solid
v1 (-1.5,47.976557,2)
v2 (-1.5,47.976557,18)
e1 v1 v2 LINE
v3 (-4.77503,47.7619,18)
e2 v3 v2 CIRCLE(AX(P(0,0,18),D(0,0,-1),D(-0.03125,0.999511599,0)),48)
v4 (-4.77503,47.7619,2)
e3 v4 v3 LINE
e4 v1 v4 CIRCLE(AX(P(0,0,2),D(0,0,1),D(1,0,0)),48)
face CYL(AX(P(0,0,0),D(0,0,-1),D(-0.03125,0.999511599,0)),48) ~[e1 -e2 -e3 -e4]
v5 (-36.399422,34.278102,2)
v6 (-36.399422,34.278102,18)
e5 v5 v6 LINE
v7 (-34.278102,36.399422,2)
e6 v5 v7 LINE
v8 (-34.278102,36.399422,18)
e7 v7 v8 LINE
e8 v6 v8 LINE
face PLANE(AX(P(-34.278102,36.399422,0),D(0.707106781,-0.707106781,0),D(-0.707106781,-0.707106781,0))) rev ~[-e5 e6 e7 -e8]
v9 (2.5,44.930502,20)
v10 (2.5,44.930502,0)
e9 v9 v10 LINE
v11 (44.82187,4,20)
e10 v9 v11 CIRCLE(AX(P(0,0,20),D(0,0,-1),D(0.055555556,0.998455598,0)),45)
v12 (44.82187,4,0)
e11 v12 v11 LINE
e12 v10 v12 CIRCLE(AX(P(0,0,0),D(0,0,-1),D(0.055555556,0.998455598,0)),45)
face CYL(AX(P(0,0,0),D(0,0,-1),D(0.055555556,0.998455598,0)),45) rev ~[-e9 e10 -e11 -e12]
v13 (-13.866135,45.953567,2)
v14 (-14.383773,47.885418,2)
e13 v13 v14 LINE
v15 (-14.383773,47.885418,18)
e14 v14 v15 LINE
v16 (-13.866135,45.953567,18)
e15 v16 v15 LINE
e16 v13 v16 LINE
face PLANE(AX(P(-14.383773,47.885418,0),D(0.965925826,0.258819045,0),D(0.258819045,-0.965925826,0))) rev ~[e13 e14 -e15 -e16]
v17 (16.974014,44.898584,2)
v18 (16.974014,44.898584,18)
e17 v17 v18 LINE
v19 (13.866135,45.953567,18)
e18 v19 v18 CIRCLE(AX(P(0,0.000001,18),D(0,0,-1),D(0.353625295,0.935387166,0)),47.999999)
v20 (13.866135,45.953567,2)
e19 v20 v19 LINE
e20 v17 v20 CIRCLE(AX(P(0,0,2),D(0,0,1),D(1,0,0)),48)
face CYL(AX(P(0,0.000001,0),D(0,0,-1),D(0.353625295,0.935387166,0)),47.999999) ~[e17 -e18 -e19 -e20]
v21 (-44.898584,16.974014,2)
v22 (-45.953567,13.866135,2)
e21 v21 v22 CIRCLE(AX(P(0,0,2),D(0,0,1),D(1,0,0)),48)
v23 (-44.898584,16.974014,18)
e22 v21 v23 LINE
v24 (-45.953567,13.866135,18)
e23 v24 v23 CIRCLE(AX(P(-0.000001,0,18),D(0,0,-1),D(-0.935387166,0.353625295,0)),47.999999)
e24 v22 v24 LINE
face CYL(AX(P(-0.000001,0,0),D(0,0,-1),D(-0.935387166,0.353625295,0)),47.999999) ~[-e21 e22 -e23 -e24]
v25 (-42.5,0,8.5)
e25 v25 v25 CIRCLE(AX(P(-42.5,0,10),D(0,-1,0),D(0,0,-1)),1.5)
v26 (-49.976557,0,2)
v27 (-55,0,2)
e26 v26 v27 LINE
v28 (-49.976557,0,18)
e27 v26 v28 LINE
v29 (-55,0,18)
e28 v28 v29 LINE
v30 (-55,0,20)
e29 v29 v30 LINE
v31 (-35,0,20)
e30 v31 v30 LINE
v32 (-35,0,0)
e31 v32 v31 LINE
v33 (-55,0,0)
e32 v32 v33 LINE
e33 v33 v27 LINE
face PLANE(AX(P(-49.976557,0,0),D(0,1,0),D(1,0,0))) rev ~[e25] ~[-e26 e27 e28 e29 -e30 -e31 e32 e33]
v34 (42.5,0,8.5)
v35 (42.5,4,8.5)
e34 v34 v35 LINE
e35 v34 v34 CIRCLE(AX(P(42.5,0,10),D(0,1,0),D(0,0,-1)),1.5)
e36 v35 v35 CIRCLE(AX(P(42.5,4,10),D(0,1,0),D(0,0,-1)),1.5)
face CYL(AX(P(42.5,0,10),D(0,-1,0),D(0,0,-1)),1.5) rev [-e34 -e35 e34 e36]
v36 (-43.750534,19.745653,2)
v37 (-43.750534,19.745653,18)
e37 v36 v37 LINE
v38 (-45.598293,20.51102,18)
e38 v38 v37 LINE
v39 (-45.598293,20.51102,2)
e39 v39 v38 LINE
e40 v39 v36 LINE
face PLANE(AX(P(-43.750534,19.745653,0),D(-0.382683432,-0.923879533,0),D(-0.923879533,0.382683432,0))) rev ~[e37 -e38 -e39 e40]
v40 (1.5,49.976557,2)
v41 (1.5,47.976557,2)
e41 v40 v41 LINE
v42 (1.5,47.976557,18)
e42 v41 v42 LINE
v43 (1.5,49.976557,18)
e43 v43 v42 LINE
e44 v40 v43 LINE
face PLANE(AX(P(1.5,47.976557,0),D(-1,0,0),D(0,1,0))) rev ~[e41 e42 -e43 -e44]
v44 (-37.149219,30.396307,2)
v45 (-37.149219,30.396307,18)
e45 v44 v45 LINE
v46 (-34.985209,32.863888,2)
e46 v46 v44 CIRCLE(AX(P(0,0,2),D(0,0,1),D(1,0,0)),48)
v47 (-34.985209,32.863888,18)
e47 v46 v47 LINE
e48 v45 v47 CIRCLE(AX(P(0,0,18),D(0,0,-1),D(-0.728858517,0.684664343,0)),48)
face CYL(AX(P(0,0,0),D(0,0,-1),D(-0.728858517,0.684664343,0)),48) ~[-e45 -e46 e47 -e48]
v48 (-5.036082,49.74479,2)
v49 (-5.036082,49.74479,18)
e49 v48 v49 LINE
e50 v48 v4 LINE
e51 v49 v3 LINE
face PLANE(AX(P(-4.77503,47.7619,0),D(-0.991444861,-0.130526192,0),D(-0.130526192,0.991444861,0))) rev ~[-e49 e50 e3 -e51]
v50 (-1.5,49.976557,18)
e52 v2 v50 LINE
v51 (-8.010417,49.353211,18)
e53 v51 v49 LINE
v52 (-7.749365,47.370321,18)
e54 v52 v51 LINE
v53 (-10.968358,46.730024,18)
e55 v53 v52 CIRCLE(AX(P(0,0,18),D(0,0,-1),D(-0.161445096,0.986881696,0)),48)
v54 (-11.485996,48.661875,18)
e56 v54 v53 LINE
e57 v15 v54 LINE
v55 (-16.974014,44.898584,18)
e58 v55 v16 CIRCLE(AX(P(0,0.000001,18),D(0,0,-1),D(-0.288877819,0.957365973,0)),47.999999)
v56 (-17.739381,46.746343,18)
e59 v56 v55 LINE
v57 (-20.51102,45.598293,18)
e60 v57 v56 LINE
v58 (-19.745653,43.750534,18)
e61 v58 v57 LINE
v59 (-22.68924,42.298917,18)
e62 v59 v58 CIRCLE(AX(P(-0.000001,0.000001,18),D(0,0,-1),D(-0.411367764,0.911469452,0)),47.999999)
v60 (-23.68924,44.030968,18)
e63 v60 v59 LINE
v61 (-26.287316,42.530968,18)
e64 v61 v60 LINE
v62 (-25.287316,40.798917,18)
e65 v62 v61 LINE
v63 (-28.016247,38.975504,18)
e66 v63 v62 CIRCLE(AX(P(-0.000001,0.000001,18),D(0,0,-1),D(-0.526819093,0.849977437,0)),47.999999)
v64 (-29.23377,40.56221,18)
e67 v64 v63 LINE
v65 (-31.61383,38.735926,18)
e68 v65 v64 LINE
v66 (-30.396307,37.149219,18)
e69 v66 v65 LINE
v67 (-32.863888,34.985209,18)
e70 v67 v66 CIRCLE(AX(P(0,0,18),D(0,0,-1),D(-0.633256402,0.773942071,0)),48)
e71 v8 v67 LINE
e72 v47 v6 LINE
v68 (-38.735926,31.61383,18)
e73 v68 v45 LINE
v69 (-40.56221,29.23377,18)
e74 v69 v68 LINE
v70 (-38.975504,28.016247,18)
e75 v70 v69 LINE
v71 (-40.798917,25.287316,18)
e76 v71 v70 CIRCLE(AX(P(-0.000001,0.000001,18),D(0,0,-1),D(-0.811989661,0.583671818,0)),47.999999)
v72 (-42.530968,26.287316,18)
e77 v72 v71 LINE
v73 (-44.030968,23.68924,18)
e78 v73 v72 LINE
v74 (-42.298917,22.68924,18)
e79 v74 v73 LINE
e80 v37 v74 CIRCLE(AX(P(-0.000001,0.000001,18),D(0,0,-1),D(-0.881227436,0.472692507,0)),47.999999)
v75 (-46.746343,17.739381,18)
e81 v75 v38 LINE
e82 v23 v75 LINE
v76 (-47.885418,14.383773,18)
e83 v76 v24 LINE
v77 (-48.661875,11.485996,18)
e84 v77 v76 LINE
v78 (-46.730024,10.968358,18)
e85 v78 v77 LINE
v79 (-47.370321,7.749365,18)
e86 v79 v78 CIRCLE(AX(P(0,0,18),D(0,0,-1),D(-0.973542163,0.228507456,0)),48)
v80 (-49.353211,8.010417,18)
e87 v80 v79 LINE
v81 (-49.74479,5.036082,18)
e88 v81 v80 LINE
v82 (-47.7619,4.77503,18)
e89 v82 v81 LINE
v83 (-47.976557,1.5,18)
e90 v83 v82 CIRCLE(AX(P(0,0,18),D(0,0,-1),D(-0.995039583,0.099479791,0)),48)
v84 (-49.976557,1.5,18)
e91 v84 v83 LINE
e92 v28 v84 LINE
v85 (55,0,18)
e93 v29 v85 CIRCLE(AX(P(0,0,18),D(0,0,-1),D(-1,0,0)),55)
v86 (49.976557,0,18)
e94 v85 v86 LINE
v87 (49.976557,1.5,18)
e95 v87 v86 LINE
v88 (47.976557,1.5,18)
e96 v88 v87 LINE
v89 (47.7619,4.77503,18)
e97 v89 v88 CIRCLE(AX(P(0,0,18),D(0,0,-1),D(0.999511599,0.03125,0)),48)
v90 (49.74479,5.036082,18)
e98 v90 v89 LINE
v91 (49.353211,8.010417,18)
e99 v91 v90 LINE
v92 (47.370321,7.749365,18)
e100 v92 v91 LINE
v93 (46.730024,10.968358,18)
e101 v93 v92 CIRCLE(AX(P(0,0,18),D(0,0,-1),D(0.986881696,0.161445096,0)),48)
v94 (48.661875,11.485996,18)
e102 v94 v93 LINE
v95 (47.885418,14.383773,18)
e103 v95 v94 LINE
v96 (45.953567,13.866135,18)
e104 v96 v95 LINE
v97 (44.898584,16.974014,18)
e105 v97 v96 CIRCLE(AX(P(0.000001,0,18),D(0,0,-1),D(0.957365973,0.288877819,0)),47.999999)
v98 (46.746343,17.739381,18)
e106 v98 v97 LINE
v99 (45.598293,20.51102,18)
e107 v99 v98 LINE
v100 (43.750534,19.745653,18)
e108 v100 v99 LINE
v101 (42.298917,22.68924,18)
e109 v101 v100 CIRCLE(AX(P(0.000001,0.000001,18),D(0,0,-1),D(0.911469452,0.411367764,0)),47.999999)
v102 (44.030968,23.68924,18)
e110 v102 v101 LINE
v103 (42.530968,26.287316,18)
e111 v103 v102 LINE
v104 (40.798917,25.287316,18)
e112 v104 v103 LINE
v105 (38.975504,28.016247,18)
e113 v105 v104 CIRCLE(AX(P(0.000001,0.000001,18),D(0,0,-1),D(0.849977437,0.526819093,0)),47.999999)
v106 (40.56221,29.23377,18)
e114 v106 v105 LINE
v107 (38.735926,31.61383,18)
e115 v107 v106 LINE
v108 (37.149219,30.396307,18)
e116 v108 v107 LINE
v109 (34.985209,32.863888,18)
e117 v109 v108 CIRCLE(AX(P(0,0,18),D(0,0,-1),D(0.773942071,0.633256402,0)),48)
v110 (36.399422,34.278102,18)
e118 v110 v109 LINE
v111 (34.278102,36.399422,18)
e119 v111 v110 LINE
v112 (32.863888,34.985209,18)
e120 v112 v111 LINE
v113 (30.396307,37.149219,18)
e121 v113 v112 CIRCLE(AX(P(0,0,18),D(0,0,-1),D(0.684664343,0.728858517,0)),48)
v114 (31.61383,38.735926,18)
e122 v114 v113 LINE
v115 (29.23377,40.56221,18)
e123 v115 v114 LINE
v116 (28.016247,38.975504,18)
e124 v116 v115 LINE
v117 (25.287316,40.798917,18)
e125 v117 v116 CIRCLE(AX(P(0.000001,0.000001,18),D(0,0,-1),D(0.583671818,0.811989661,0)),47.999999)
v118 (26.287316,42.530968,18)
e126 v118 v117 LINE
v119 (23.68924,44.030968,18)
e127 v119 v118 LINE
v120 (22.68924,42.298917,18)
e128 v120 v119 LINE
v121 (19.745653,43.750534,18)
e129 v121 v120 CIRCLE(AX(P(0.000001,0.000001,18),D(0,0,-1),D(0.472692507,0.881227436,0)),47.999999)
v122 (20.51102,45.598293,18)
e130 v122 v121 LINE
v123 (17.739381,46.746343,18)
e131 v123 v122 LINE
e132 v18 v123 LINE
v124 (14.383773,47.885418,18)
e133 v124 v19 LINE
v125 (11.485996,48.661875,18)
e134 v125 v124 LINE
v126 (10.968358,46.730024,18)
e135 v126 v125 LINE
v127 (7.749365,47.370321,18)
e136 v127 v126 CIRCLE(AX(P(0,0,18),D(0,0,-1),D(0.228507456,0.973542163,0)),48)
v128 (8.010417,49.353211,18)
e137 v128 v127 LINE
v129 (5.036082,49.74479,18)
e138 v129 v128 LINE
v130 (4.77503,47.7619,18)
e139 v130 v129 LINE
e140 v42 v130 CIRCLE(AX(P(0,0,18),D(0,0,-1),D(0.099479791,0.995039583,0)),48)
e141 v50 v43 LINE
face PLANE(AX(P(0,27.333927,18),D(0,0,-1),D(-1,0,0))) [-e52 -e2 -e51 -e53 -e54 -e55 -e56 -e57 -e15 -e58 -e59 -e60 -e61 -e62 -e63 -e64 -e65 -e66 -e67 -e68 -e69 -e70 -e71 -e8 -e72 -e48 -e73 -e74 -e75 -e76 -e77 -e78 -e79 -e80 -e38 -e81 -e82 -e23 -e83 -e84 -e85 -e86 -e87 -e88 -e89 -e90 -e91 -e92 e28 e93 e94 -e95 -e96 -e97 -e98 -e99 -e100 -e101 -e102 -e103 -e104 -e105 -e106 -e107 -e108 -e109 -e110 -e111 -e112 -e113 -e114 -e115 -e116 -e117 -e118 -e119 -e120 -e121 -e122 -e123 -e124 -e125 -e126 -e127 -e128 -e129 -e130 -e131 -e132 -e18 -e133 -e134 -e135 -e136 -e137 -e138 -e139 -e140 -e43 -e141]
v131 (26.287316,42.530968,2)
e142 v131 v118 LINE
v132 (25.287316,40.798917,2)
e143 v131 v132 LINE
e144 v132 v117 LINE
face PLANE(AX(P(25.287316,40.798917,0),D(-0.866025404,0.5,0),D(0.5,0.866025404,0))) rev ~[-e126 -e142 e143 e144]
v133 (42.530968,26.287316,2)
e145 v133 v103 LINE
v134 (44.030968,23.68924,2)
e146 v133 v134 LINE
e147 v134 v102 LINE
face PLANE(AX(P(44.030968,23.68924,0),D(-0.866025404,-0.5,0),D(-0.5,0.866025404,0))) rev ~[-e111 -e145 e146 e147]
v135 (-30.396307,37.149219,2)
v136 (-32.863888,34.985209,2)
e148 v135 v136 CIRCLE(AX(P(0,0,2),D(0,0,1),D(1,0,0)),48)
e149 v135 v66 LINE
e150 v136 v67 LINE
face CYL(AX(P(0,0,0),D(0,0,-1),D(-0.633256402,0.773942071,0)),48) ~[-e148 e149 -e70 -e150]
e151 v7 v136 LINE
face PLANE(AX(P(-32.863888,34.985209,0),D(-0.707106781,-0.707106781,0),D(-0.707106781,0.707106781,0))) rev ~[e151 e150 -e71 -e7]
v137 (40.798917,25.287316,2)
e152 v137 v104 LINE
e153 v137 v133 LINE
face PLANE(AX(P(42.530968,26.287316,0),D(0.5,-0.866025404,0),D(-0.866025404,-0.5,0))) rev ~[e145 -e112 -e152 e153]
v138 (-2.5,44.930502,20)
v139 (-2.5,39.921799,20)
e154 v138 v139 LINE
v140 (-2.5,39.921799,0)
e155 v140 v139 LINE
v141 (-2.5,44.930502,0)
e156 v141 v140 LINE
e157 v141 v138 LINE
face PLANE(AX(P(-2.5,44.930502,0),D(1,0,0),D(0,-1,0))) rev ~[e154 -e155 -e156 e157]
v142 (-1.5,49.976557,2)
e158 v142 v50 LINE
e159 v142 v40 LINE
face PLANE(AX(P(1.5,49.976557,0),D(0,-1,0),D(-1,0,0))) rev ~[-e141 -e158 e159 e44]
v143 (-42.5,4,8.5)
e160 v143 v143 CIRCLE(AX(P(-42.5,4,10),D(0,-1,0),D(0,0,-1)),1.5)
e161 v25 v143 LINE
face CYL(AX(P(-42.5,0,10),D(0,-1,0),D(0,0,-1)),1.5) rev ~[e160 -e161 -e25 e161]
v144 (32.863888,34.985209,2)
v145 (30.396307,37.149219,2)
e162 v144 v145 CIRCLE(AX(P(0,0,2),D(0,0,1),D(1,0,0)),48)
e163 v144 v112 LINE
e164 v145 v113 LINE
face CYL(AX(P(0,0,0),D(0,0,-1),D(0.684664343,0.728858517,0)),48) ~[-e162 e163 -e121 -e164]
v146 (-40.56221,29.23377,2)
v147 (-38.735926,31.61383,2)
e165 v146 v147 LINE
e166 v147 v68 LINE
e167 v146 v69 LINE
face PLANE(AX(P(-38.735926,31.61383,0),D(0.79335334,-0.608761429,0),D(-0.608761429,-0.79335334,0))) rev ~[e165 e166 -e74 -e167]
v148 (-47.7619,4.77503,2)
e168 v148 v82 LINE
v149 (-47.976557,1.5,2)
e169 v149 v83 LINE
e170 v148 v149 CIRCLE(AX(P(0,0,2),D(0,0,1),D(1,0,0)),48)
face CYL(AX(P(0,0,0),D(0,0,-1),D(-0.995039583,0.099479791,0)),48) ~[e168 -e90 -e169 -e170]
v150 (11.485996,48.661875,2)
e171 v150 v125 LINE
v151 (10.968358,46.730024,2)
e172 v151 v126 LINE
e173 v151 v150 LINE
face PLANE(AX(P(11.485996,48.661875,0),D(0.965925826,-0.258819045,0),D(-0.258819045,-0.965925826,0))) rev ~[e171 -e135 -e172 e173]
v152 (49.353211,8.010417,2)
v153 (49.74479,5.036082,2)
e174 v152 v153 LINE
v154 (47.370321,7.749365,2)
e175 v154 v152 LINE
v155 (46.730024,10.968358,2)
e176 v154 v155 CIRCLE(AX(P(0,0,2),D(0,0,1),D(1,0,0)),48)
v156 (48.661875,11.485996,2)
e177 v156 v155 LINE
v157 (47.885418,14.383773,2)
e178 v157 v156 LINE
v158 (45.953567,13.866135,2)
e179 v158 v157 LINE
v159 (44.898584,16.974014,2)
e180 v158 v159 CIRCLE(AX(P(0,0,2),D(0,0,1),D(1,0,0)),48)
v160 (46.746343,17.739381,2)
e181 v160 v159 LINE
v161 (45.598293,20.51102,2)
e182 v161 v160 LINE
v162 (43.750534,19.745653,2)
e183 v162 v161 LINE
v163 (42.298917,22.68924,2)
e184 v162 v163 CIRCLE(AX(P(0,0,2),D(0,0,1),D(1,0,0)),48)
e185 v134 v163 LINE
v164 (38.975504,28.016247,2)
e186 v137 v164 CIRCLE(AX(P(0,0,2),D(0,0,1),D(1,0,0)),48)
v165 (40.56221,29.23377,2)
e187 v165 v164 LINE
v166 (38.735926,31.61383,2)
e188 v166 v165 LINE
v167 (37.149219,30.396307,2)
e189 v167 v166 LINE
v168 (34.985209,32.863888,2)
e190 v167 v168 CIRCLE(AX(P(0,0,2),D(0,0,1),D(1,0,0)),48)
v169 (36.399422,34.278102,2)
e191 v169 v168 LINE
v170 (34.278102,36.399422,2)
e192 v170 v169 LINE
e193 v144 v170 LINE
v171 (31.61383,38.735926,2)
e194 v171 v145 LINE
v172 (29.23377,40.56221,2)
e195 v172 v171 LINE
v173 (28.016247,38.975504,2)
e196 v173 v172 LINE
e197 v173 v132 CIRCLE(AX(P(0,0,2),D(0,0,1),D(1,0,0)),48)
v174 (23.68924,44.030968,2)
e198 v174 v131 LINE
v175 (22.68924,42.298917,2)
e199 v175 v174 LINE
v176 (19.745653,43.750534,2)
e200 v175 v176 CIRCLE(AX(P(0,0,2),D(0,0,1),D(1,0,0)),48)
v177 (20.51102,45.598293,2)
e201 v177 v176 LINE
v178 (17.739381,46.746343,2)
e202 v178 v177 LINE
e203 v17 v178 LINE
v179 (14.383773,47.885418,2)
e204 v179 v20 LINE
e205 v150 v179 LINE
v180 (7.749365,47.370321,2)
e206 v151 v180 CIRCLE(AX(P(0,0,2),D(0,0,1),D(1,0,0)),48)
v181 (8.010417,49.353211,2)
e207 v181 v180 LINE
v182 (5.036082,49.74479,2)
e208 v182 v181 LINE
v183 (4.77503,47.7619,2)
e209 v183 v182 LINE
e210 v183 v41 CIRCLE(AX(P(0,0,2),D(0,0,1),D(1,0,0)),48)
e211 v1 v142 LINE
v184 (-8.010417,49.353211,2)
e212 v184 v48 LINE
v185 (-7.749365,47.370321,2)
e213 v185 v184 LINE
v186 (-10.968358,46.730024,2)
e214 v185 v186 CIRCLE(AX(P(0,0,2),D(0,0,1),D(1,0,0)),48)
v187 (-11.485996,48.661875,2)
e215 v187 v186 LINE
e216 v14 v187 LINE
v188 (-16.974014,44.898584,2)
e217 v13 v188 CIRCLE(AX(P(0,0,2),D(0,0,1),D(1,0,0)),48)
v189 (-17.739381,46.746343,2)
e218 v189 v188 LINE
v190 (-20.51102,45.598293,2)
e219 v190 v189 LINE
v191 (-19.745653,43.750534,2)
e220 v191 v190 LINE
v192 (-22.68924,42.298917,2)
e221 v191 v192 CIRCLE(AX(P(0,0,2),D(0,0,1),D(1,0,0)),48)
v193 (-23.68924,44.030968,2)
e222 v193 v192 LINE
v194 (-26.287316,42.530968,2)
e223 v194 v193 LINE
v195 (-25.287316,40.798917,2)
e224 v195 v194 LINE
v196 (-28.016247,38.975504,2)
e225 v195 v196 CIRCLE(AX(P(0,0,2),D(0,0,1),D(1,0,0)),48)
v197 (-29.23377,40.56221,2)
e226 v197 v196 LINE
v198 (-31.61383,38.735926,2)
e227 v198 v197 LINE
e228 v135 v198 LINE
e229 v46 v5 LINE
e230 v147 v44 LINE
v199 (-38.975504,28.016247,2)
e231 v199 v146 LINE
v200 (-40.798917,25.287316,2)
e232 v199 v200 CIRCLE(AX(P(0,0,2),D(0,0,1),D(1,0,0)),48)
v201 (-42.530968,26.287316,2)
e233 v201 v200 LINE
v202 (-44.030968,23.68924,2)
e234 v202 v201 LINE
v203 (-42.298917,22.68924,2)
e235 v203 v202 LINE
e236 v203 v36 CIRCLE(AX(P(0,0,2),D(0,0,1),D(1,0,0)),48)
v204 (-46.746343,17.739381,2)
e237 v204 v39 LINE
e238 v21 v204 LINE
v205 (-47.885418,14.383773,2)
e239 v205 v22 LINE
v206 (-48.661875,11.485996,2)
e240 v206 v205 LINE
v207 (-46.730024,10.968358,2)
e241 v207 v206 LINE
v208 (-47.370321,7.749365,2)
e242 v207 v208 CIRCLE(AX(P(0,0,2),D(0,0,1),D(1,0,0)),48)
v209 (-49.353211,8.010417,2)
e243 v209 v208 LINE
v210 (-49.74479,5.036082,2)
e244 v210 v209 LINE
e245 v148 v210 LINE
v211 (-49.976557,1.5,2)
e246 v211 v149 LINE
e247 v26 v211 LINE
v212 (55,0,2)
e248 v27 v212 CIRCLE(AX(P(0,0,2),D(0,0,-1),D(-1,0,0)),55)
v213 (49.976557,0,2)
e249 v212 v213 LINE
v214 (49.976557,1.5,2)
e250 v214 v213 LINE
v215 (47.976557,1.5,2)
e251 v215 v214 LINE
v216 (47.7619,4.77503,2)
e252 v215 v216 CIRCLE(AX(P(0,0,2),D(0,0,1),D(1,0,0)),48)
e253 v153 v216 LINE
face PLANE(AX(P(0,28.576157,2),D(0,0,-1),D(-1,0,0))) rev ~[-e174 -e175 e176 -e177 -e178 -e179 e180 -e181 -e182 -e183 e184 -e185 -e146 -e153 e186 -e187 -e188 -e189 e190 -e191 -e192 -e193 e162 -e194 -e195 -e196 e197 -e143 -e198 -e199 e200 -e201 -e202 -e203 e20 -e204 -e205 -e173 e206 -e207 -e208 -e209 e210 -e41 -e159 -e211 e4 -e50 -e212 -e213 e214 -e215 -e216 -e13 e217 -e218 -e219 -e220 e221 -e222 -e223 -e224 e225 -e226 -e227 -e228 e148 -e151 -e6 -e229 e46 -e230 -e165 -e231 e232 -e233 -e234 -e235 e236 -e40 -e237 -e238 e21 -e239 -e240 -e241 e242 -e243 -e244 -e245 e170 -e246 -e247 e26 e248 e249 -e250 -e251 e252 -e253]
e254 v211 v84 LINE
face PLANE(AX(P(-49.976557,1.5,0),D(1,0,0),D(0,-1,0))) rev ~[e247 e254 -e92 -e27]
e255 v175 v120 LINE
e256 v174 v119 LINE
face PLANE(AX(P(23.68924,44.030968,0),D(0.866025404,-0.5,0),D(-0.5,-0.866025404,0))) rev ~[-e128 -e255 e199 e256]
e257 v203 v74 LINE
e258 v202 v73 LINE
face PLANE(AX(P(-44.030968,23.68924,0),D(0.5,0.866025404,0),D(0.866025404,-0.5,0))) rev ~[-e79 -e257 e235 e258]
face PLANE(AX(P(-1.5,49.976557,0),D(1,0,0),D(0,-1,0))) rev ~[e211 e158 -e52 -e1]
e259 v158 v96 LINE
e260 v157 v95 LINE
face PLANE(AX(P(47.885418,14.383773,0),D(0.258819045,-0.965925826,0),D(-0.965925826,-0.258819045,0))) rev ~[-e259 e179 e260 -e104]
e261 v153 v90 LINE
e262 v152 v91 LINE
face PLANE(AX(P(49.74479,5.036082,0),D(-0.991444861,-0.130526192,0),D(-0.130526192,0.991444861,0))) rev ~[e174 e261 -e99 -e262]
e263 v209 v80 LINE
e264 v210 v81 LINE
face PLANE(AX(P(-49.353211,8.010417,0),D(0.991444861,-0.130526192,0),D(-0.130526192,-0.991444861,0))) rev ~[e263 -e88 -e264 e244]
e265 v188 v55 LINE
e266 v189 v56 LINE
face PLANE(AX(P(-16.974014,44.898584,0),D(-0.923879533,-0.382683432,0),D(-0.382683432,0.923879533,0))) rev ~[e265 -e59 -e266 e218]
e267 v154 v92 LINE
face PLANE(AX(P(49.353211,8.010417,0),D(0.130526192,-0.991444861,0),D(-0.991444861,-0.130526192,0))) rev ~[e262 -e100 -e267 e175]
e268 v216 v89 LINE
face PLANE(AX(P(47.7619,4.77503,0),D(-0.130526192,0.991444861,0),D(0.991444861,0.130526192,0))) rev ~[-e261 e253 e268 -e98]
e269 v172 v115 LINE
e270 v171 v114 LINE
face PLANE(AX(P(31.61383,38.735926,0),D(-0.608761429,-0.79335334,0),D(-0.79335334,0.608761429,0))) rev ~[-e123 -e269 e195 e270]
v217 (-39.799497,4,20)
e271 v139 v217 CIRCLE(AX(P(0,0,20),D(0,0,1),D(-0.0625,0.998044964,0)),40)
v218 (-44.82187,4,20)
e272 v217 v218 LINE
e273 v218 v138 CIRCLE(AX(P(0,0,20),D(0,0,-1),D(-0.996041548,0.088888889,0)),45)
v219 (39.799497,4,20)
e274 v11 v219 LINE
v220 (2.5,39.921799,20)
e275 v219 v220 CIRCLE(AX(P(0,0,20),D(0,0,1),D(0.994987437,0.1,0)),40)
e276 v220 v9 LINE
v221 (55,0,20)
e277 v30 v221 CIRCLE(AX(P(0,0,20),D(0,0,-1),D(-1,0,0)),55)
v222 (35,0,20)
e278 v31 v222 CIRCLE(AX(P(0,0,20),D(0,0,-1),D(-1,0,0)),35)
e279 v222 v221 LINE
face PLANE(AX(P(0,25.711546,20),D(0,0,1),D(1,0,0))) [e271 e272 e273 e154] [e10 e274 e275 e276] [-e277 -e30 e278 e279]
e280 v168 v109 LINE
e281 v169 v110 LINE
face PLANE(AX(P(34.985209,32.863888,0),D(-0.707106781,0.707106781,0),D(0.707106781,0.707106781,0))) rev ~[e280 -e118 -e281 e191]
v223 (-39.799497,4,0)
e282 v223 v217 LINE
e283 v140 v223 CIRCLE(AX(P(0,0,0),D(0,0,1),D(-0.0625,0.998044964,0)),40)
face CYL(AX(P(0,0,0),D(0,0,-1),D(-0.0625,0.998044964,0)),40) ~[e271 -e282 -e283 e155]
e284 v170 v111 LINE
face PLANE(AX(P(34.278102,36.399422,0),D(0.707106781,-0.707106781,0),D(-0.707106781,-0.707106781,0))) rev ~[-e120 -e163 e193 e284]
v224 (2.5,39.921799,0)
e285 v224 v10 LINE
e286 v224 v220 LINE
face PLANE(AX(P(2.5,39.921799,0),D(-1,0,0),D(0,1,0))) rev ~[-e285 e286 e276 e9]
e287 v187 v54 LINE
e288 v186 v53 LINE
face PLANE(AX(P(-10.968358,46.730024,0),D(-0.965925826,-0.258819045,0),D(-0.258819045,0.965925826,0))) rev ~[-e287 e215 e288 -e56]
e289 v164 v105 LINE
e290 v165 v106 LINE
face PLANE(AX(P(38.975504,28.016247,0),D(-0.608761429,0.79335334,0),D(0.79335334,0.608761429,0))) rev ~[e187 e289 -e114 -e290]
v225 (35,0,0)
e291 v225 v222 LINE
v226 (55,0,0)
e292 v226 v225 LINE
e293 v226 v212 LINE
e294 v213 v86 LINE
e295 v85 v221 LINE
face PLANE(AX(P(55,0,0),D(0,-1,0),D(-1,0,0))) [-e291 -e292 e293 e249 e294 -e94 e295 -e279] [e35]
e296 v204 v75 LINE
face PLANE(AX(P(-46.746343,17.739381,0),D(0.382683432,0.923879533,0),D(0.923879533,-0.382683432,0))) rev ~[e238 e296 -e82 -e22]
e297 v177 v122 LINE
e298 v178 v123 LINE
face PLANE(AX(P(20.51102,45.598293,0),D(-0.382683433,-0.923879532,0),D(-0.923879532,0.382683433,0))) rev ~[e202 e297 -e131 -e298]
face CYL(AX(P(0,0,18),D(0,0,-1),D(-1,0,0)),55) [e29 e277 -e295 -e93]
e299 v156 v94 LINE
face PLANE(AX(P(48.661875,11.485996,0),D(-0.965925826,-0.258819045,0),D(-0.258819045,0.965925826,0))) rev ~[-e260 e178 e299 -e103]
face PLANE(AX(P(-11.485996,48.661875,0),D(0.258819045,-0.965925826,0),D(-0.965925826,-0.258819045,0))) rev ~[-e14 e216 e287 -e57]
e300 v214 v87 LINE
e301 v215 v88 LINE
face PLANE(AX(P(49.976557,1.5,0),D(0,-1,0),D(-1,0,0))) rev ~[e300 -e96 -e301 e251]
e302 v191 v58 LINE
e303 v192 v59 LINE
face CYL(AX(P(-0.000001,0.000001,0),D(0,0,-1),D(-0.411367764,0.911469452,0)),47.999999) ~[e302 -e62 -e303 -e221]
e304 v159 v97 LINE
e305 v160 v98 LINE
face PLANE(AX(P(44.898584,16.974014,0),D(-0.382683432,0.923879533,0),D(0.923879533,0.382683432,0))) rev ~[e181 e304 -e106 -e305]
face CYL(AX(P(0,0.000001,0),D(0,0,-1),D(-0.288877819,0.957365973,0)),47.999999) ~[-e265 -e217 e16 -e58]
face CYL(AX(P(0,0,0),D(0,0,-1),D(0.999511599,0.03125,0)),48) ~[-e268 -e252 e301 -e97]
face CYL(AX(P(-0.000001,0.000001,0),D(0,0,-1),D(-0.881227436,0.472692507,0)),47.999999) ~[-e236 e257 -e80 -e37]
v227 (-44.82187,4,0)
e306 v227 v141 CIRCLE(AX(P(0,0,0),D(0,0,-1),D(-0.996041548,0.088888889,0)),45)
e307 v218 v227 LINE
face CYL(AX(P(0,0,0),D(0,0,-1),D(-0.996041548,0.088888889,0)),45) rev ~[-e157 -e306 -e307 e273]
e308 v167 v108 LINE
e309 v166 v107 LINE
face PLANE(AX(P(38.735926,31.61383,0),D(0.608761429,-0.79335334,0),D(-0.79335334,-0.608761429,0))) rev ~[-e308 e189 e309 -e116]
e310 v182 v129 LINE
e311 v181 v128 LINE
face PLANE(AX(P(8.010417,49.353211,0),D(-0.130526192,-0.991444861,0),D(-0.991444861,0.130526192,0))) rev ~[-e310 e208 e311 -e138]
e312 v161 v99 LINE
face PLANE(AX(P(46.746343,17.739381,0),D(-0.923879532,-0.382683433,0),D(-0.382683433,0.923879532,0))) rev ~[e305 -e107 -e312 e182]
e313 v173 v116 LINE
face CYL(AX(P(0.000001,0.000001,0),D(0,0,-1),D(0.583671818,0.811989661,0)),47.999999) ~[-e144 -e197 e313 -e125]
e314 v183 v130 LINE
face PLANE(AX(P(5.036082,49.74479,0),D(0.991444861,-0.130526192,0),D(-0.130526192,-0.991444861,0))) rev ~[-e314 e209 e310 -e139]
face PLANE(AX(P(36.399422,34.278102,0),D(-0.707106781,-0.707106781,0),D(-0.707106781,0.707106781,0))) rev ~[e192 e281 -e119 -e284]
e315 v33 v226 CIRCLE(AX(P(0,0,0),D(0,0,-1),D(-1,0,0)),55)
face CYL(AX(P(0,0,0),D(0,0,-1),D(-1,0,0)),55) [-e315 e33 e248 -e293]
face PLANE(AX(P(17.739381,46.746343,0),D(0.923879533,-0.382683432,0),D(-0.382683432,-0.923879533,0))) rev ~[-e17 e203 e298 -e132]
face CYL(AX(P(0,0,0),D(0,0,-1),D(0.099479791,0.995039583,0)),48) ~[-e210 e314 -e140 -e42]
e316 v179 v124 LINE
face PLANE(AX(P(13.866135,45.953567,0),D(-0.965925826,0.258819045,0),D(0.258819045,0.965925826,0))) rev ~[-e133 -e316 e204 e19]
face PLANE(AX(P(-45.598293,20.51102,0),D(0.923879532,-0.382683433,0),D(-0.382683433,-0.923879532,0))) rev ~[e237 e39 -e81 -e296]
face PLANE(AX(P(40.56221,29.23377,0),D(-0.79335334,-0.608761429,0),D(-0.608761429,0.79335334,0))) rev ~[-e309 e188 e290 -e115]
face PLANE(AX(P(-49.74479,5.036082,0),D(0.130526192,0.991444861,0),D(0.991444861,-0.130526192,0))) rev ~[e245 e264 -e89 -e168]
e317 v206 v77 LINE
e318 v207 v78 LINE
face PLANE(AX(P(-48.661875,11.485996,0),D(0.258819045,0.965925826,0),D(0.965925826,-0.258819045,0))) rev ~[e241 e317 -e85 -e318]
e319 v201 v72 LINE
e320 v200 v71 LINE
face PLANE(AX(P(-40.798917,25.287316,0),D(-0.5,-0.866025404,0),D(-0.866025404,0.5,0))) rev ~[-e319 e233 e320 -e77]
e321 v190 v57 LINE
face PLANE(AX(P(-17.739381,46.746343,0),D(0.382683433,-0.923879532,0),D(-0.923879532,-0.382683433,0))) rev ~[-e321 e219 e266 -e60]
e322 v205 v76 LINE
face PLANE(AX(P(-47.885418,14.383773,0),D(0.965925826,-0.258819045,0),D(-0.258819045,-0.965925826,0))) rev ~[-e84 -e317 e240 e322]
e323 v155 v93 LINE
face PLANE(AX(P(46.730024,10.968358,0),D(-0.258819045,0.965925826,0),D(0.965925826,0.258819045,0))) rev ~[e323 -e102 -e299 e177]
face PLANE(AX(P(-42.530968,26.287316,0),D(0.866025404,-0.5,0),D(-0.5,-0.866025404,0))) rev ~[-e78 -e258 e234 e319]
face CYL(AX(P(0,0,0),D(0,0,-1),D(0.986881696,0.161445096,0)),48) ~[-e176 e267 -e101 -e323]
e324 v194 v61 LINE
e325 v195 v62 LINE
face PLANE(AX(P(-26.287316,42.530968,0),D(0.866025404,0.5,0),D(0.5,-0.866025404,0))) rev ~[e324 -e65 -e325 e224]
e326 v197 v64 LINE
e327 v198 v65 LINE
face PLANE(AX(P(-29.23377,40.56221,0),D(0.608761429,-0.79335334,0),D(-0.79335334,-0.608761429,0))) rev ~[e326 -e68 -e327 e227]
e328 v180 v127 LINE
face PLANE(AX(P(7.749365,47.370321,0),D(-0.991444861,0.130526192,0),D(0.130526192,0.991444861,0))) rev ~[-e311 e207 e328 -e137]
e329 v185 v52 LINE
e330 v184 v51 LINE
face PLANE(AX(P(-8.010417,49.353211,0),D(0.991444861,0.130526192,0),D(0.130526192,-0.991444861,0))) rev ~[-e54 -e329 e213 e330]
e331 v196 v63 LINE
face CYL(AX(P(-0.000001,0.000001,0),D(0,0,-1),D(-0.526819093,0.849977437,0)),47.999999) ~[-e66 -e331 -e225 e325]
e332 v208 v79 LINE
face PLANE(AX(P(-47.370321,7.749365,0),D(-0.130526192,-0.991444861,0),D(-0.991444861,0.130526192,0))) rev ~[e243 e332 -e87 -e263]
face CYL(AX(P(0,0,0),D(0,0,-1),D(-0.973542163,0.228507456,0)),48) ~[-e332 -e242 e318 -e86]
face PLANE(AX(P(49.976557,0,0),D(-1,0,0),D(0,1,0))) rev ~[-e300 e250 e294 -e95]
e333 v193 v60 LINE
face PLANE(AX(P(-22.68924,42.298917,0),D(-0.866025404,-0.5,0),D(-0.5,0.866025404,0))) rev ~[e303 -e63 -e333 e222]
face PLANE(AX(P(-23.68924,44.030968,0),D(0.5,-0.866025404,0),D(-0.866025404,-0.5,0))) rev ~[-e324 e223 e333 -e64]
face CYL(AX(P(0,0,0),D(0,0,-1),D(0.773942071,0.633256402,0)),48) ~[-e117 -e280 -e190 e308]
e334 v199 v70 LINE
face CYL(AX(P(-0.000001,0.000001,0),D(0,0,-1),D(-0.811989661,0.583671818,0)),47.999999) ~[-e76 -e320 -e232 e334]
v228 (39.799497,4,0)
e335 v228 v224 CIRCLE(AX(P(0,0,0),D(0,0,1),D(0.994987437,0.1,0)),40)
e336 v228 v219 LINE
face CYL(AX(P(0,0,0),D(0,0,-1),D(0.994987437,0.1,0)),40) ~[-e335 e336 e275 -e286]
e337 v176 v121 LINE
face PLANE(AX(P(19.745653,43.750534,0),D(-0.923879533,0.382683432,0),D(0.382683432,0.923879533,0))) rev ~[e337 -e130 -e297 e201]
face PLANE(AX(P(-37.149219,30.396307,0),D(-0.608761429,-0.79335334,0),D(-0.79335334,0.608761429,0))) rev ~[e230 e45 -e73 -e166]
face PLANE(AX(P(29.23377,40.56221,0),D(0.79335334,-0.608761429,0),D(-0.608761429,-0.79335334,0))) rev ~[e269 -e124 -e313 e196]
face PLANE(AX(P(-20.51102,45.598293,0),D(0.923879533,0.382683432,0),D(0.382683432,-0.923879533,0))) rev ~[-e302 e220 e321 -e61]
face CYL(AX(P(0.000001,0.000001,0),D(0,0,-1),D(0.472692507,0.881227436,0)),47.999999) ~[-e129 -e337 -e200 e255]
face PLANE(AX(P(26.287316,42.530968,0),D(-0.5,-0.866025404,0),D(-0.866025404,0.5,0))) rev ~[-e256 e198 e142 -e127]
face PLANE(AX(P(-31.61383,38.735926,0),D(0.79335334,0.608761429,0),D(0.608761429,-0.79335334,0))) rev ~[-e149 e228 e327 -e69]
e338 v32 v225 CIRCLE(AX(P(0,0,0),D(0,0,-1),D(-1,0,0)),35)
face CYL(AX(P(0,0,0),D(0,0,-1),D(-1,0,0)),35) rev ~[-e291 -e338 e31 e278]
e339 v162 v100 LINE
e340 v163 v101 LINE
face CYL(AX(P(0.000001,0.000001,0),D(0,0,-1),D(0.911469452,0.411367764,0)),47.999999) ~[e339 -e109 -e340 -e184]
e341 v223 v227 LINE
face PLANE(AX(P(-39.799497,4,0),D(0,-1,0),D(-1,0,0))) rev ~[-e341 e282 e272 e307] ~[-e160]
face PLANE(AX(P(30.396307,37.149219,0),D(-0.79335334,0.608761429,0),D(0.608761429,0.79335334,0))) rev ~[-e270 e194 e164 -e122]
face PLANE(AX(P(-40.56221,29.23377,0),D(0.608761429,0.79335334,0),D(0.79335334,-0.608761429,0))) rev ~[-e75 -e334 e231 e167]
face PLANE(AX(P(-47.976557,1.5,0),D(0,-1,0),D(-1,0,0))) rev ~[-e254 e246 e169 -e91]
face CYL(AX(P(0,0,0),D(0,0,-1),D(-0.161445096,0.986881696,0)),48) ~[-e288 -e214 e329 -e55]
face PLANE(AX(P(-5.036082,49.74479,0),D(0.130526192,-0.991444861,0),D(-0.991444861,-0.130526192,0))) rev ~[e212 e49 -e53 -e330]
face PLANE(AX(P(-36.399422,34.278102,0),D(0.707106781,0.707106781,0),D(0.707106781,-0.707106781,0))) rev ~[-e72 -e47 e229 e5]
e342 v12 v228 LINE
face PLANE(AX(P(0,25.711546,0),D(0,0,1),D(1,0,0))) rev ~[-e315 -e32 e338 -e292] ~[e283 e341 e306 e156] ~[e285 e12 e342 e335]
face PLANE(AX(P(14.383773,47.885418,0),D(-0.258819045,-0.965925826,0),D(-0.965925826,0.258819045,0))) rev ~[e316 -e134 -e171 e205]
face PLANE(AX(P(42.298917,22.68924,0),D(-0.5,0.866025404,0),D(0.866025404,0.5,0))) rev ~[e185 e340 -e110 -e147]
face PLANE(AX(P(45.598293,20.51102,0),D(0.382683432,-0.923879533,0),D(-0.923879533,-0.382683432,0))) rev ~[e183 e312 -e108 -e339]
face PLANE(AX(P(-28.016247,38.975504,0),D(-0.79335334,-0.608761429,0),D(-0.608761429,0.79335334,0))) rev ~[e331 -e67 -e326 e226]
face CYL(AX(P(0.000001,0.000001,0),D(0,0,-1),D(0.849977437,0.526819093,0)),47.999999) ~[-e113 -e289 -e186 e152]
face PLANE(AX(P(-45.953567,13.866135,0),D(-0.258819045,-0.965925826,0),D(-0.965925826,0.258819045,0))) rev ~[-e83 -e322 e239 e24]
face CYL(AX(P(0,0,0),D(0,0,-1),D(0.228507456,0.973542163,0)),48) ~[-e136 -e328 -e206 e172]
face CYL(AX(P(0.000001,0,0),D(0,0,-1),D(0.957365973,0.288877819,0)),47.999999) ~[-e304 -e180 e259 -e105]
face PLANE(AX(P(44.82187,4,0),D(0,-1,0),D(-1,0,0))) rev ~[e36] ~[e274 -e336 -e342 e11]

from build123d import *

# Parameters (mm, degrees)
BOSS_EXTRUDE1_DEPTH = 20
CUT_EXTRUDE2_REACH  = 75.453
SKETCH3_R           = 1.5
BOSS_EXTRUDE3_DEPTH = 2
BOSS_EXTRUDE4_START = -2
BOSS_EXTRUDE4_DEPTH = 2


with BuildPart() as part:
    # Sketch1 → Boss-Extrude1 (new body)
    with BuildSketch(Plane.XY):
        with BuildLine():
            Line((35, 0), (49.976556775, 0))
            Line((49.976556775, 0), (49.976556775, 1.5))
            Line((49.976556775, 1.5), (47.976556775, 1.5))
            ThreePointArc((47.976556775, 1.5), (47.897228315, 3.139350203), (47.761899969, 4.77502998))
            Line((47.761899969, 4.77502998), (49.744789692, 5.036082364))
            Line((49.744789692, 5.036082364), (49.353211116, 8.010416948))
            Line((49.353211116, 8.010416948), (47.370321393, 7.749364564))
            ThreePointArc((47.370321393, 7.749364564), (47.077693459, 9.364335457), (46.730023813, 10.968357872))
            Line((46.730023813, 10.968357872), (48.661875466, 11.485995963))
            Line((48.661875466, 11.485995963), (47.88541833, 14.383773441))
            Line((47.88541833, 14.383773441), (45.953566678, 13.866135351))
            ThreePointArc((45.953566678, 13.866135351), (45.452646216, 15.429094335), (44.898583993, 16.974014121))
            Line((44.898583993, 16.974014121), (46.746343059, 17.739380986))
            Line((46.746343059, 17.739380986), (45.598292761, 20.511019583))
            Line((45.598292761, 20.511019583), (43.750533696, 19.745652719))
            ThreePointArc((43.750533696, 19.745652719), (43.049891594, 21.229857131), (42.298916953, 22.689240282))
            Line((42.298916953, 22.689240282), (44.030967761, 23.689240282))
            Line((44.030967761, 23.689240282), (42.530967761, 26.287316493))
            Line((42.530967761, 26.287316493), (40.798916953, 25.287316493))
            ThreePointArc((40.798916953, 25.287316493), (39.910541391, 26.667371185), (38.975503717, 28.016247251))
            Line((38.975503717, 28.016247251), (40.562210397, 29.233770109))
            Line((40.562210397, 29.233770109), (38.73592611, 31.61383013))
            Line((38.73592611, 31.61383013), (37.14921943, 30.396307272))
            ThreePointArc((37.14921943, 30.396307272), (36.088310759, 31.648599125), (34.985208805, 32.863888462))
            Line((34.985208805, 32.863888462), (36.399422368, 34.278102024))
            Line((36.399422368, 34.278102024), (34.278102024, 36.399422368))
            Line((34.278102024, 36.399422368), (32.863888462, 34.985208805))
            ThreePointArc((32.863888462, 34.985208805), (31.648599125, 36.088310759), (30.396307272, 37.14921943))
            Line((30.396307272, 37.14921943), (31.61383013, 38.73592611))
            Line((31.61383013, 38.73592611), (29.233770109, 40.562210397))
            Line((29.233770109, 40.562210397), (28.016247251, 38.975503717))
            ThreePointArc((28.016247251, 38.975503717), (26.667371185, 39.910541391), (25.287316493, 40.798916953))
            Line((25.287316493, 40.798916953), (26.287316493, 42.530967761))
            Line((26.287316493, 42.530967761), (23.689240282, 44.030967761))
            Line((23.689240282, 44.030967761), (22.689240282, 42.298916953))
            ThreePointArc((22.689240282, 42.298916953), (21.229857131, 43.049891594), (19.745652719, 43.750533696))
            Line((19.745652719, 43.750533696), (20.511019583, 45.598292761))
            Line((20.511019583, 45.598292761), (17.739380986, 46.746343059))
            Line((17.739380986, 46.746343059), (16.974014121, 44.898583993))
            ThreePointArc((16.974014121, 44.898583993), (15.429094335, 45.452646216), (13.866135351, 45.953566678))
            Line((13.866135351, 45.953566678), (14.383773441, 47.88541833))
            Line((14.383773441, 47.88541833), (11.485995963, 48.661875466))
            Line((11.485995963, 48.661875466), (10.968357872, 46.730023813))
            ThreePointArc((10.968357872, 46.730023813), (9.364335457, 47.077693459), (7.749364564, 47.370321393))
            Line((7.749364564, 47.370321393), (8.010416948, 49.353211116))
            Line((8.010416948, 49.353211116), (5.036082364, 49.744789692))
            Line((5.036082364, 49.744789692), (4.77502998, 47.761899969))
            ThreePointArc((4.77502998, 47.761899969), (3.139350203, 47.897228315), (1.5, 47.976556775))
            Line((1.5, 47.976556775), (1.5, 49.976556775))
            Line((1.5, 49.976556775), (-1.5, 49.976556775))
            Line((-1.5, 49.976556775), (-1.5, 47.976556775))
            ThreePointArc((-1.5, 47.976556775), (-3.139350203, 47.897228315), (-4.77502998, 47.761899969))
            Line((-4.77502998, 47.761899969), (-5.036082364, 49.744789692))
            Line((-5.036082364, 49.744789692), (-8.010416948, 49.353211116))
            Line((-8.010416948, 49.353211116), (-7.749364564, 47.370321393))
            ThreePointArc((-7.749364564, 47.370321393), (-9.364335457, 47.077693459), (-10.968357872, 46.730023813))
            Line((-10.968357872, 46.730023813), (-11.485995963, 48.661875466))
            Line((-11.485995963, 48.661875466), (-14.383773441, 47.88541833))
            Line((-14.383773441, 47.88541833), (-13.866135351, 45.953566678))
            ThreePointArc((-13.866135351, 45.953566678), (-15.429094335, 45.452646216), (-16.974014121, 44.898583993))
            Line((-16.974014121, 44.898583993), (-17.739380986, 46.746343059))
            Line((-17.739380986, 46.746343059), (-20.511019583, 45.598292761))
            Line((-20.511019583, 45.598292761), (-19.745652719, 43.750533696))
            ThreePointArc((-19.745652719, 43.750533696), (-21.229857131, 43.049891594), (-22.689240282, 42.298916953))
            Line((-22.689240282, 42.298916953), (-23.689240282, 44.030967761))
            Line((-23.689240282, 44.030967761), (-26.287316493, 42.530967761))
            Line((-26.287316493, 42.530967761), (-25.287316493, 40.798916953))
            ThreePointArc((-25.287316493, 40.798916953), (-26.667371185, 39.910541391), (-28.016247251, 38.975503717))
            Line((-28.016247251, 38.975503717), (-29.233770109, 40.562210397))
            Line((-29.233770109, 40.562210397), (-31.61383013, 38.73592611))
            Line((-31.61383013, 38.73592611), (-30.396307272, 37.14921943))
            ThreePointArc((-30.396307272, 37.14921943), (-31.648599125, 36.088310759), (-32.863888462, 34.985208805))
            Line((-32.863888462, 34.985208805), (-34.278102024, 36.399422368))
            Line((-34.278102024, 36.399422368), (-36.399422368, 34.278102024))
            Line((-36.399422368, 34.278102024), (-34.985208805, 32.863888462))
            ThreePointArc((-34.985208805, 32.863888462), (-36.088310759, 31.648599125), (-37.14921943, 30.396307272))
            Line((-37.14921943, 30.396307272), (-38.73592611, 31.61383013))
            Line((-38.73592611, 31.61383013), (-40.562210397, 29.233770109))
            Line((-40.562210397, 29.233770109), (-38.975503717, 28.016247251))
            ThreePointArc((-38.975503717, 28.016247251), (-39.910541391, 26.667371185), (-40.798916953, 25.287316493))
            Line((-40.798916953, 25.287316493), (-42.530967761, 26.287316493))
            Line((-42.530967761, 26.287316493), (-44.030967761, 23.689240282))
            Line((-44.030967761, 23.689240282), (-42.298916953, 22.689240282))
            ThreePointArc((-42.298916953, 22.689240282), (-43.049891594, 21.229857131), (-43.750533696, 19.745652719))
            Line((-43.750533696, 19.745652719), (-45.598292761, 20.511019583))
            Line((-45.598292761, 20.511019583), (-46.746343059, 17.739380986))
            Line((-46.746343059, 17.739380986), (-44.898583993, 16.974014121))
            ThreePointArc((-44.898583993, 16.974014121), (-45.452646216, 15.429094335), (-45.953566678, 13.866135351))
            Line((-45.953566678, 13.866135351), (-47.88541833, 14.383773441))
            Line((-47.88541833, 14.383773441), (-48.661875466, 11.485995963))
            Line((-48.661875466, 11.485995963), (-46.730023813, 10.968357872))
            ThreePointArc((-46.730023813, 10.968357872), (-47.077693459, 9.364335457), (-47.370321393, 7.749364564))
            Line((-47.370321393, 7.749364564), (-49.353211116, 8.010416948))
            Line((-49.353211116, 8.010416948), (-49.744789692, 5.036082364))
            Line((-49.744789692, 5.036082364), (-47.761899969, 4.77502998))
            ThreePointArc((-47.761899969, 4.77502998), (-47.897228315, 3.139350203), (-47.976556775, 1.5))
            Line((-47.976556775, 1.5), (-49.976556775, 1.5))
            Line((-49.976556775, 1.5), (-49.976556775, 0))
            Line((-49.976556775, 0), (-35, 0))
            ThreePointArc((-35, 0), (0, 35), (35, 0))
        make_face()
        with BuildLine():
            Line((44.821869662, 4), (39.799497484, 4))
            ThreePointArc((39.799497484, 4), (27.747175978, 28.811355839), (2.5, 39.921798557))
            Line((2.5, 39.921798557), (2.5, 44.930501889))
            ThreePointArc((2.5, 44.930501889), (31.283643223, 32.34708127), (44.821869662, 4))
        make_face(mode=Mode.SUBTRACT)
        with BuildLine():
            ThreePointArc((-44.821869662, 4), (-31.283643223, 32.34708127), (-2.5, 44.930501889))
            Line((-2.5, 44.930501889), (-2.5, 39.921798557))
            ThreePointArc((-2.5, 39.921798557), (-27.747175978, 28.811355839), (-39.799497484, 4))
            Line((-39.799497484, 4), (-44.821869662, 4))
        make_face(mode=Mode.SUBTRACT)
    extrude(amount=BOSS_EXTRUDE1_DEPTH)

    # Sketch3 → Cut-Extrude2 (cut, up to next)
    with BuildSketch(Plane.XZ, mode=Mode.PRIVATE) as cut_extrude2_sk1:
        with Locations(Location((-42.5, 10, 0), (0, 0, 270))):
            Circle(SKETCH3_R)
    cut_extrude2_tool1 = extrude(cut_extrude2_sk1.sketch, amount=-CUT_EXTRUDE2_REACH, mode=Mode.PRIVATE) & part.part
    cut_extrude2 = cut_extrude2_tool1.solids().sort_by_distance((-42.5, 0, 10))[0]
    add(cut_extrude2, mode=Mode.SUBTRACT)

    # Mirror2: Cut-Extrude2 across plane
    add(cut_extrude2.mirror(Plane(origin=(0, 0, 0), x_dir=(0, 0, 1), z_dir=(1, 0, 0))), mode=Mode.SUBTRACT)

    # Sketch5 → Boss-Extrude3 (add)
    with BuildSketch(Plane.XY):
        with BuildLine():
            Line((-48, 0), (-55, 0))
            ThreePointArc((-55, 0), (0, 55), (55, 0))
            Line((55, 0), (48, 0))
            ThreePointArc((48, 0), (0, 48), (-48, 0))
        make_face()
    extrude(amount=BOSS_EXTRUDE3_DEPTH)

    # Sketch6 → Boss-Extrude4 (add)
    with BuildSketch(Plane.XY.offset(20).offset(BOSS_EXTRUDE4_START)):
        with BuildLine():
            Line((-45, 0), (-55, 0))
            ThreePointArc((-55, 0), (0, 55), (55, 0))
            Line((55, 0), (45, 0))
            ThreePointArc((45, 0), (0, 45), (-45, 0))
        make_face()
    extrude(amount=BOSS_EXTRUDE4_DEPTH)


solid = part.part
